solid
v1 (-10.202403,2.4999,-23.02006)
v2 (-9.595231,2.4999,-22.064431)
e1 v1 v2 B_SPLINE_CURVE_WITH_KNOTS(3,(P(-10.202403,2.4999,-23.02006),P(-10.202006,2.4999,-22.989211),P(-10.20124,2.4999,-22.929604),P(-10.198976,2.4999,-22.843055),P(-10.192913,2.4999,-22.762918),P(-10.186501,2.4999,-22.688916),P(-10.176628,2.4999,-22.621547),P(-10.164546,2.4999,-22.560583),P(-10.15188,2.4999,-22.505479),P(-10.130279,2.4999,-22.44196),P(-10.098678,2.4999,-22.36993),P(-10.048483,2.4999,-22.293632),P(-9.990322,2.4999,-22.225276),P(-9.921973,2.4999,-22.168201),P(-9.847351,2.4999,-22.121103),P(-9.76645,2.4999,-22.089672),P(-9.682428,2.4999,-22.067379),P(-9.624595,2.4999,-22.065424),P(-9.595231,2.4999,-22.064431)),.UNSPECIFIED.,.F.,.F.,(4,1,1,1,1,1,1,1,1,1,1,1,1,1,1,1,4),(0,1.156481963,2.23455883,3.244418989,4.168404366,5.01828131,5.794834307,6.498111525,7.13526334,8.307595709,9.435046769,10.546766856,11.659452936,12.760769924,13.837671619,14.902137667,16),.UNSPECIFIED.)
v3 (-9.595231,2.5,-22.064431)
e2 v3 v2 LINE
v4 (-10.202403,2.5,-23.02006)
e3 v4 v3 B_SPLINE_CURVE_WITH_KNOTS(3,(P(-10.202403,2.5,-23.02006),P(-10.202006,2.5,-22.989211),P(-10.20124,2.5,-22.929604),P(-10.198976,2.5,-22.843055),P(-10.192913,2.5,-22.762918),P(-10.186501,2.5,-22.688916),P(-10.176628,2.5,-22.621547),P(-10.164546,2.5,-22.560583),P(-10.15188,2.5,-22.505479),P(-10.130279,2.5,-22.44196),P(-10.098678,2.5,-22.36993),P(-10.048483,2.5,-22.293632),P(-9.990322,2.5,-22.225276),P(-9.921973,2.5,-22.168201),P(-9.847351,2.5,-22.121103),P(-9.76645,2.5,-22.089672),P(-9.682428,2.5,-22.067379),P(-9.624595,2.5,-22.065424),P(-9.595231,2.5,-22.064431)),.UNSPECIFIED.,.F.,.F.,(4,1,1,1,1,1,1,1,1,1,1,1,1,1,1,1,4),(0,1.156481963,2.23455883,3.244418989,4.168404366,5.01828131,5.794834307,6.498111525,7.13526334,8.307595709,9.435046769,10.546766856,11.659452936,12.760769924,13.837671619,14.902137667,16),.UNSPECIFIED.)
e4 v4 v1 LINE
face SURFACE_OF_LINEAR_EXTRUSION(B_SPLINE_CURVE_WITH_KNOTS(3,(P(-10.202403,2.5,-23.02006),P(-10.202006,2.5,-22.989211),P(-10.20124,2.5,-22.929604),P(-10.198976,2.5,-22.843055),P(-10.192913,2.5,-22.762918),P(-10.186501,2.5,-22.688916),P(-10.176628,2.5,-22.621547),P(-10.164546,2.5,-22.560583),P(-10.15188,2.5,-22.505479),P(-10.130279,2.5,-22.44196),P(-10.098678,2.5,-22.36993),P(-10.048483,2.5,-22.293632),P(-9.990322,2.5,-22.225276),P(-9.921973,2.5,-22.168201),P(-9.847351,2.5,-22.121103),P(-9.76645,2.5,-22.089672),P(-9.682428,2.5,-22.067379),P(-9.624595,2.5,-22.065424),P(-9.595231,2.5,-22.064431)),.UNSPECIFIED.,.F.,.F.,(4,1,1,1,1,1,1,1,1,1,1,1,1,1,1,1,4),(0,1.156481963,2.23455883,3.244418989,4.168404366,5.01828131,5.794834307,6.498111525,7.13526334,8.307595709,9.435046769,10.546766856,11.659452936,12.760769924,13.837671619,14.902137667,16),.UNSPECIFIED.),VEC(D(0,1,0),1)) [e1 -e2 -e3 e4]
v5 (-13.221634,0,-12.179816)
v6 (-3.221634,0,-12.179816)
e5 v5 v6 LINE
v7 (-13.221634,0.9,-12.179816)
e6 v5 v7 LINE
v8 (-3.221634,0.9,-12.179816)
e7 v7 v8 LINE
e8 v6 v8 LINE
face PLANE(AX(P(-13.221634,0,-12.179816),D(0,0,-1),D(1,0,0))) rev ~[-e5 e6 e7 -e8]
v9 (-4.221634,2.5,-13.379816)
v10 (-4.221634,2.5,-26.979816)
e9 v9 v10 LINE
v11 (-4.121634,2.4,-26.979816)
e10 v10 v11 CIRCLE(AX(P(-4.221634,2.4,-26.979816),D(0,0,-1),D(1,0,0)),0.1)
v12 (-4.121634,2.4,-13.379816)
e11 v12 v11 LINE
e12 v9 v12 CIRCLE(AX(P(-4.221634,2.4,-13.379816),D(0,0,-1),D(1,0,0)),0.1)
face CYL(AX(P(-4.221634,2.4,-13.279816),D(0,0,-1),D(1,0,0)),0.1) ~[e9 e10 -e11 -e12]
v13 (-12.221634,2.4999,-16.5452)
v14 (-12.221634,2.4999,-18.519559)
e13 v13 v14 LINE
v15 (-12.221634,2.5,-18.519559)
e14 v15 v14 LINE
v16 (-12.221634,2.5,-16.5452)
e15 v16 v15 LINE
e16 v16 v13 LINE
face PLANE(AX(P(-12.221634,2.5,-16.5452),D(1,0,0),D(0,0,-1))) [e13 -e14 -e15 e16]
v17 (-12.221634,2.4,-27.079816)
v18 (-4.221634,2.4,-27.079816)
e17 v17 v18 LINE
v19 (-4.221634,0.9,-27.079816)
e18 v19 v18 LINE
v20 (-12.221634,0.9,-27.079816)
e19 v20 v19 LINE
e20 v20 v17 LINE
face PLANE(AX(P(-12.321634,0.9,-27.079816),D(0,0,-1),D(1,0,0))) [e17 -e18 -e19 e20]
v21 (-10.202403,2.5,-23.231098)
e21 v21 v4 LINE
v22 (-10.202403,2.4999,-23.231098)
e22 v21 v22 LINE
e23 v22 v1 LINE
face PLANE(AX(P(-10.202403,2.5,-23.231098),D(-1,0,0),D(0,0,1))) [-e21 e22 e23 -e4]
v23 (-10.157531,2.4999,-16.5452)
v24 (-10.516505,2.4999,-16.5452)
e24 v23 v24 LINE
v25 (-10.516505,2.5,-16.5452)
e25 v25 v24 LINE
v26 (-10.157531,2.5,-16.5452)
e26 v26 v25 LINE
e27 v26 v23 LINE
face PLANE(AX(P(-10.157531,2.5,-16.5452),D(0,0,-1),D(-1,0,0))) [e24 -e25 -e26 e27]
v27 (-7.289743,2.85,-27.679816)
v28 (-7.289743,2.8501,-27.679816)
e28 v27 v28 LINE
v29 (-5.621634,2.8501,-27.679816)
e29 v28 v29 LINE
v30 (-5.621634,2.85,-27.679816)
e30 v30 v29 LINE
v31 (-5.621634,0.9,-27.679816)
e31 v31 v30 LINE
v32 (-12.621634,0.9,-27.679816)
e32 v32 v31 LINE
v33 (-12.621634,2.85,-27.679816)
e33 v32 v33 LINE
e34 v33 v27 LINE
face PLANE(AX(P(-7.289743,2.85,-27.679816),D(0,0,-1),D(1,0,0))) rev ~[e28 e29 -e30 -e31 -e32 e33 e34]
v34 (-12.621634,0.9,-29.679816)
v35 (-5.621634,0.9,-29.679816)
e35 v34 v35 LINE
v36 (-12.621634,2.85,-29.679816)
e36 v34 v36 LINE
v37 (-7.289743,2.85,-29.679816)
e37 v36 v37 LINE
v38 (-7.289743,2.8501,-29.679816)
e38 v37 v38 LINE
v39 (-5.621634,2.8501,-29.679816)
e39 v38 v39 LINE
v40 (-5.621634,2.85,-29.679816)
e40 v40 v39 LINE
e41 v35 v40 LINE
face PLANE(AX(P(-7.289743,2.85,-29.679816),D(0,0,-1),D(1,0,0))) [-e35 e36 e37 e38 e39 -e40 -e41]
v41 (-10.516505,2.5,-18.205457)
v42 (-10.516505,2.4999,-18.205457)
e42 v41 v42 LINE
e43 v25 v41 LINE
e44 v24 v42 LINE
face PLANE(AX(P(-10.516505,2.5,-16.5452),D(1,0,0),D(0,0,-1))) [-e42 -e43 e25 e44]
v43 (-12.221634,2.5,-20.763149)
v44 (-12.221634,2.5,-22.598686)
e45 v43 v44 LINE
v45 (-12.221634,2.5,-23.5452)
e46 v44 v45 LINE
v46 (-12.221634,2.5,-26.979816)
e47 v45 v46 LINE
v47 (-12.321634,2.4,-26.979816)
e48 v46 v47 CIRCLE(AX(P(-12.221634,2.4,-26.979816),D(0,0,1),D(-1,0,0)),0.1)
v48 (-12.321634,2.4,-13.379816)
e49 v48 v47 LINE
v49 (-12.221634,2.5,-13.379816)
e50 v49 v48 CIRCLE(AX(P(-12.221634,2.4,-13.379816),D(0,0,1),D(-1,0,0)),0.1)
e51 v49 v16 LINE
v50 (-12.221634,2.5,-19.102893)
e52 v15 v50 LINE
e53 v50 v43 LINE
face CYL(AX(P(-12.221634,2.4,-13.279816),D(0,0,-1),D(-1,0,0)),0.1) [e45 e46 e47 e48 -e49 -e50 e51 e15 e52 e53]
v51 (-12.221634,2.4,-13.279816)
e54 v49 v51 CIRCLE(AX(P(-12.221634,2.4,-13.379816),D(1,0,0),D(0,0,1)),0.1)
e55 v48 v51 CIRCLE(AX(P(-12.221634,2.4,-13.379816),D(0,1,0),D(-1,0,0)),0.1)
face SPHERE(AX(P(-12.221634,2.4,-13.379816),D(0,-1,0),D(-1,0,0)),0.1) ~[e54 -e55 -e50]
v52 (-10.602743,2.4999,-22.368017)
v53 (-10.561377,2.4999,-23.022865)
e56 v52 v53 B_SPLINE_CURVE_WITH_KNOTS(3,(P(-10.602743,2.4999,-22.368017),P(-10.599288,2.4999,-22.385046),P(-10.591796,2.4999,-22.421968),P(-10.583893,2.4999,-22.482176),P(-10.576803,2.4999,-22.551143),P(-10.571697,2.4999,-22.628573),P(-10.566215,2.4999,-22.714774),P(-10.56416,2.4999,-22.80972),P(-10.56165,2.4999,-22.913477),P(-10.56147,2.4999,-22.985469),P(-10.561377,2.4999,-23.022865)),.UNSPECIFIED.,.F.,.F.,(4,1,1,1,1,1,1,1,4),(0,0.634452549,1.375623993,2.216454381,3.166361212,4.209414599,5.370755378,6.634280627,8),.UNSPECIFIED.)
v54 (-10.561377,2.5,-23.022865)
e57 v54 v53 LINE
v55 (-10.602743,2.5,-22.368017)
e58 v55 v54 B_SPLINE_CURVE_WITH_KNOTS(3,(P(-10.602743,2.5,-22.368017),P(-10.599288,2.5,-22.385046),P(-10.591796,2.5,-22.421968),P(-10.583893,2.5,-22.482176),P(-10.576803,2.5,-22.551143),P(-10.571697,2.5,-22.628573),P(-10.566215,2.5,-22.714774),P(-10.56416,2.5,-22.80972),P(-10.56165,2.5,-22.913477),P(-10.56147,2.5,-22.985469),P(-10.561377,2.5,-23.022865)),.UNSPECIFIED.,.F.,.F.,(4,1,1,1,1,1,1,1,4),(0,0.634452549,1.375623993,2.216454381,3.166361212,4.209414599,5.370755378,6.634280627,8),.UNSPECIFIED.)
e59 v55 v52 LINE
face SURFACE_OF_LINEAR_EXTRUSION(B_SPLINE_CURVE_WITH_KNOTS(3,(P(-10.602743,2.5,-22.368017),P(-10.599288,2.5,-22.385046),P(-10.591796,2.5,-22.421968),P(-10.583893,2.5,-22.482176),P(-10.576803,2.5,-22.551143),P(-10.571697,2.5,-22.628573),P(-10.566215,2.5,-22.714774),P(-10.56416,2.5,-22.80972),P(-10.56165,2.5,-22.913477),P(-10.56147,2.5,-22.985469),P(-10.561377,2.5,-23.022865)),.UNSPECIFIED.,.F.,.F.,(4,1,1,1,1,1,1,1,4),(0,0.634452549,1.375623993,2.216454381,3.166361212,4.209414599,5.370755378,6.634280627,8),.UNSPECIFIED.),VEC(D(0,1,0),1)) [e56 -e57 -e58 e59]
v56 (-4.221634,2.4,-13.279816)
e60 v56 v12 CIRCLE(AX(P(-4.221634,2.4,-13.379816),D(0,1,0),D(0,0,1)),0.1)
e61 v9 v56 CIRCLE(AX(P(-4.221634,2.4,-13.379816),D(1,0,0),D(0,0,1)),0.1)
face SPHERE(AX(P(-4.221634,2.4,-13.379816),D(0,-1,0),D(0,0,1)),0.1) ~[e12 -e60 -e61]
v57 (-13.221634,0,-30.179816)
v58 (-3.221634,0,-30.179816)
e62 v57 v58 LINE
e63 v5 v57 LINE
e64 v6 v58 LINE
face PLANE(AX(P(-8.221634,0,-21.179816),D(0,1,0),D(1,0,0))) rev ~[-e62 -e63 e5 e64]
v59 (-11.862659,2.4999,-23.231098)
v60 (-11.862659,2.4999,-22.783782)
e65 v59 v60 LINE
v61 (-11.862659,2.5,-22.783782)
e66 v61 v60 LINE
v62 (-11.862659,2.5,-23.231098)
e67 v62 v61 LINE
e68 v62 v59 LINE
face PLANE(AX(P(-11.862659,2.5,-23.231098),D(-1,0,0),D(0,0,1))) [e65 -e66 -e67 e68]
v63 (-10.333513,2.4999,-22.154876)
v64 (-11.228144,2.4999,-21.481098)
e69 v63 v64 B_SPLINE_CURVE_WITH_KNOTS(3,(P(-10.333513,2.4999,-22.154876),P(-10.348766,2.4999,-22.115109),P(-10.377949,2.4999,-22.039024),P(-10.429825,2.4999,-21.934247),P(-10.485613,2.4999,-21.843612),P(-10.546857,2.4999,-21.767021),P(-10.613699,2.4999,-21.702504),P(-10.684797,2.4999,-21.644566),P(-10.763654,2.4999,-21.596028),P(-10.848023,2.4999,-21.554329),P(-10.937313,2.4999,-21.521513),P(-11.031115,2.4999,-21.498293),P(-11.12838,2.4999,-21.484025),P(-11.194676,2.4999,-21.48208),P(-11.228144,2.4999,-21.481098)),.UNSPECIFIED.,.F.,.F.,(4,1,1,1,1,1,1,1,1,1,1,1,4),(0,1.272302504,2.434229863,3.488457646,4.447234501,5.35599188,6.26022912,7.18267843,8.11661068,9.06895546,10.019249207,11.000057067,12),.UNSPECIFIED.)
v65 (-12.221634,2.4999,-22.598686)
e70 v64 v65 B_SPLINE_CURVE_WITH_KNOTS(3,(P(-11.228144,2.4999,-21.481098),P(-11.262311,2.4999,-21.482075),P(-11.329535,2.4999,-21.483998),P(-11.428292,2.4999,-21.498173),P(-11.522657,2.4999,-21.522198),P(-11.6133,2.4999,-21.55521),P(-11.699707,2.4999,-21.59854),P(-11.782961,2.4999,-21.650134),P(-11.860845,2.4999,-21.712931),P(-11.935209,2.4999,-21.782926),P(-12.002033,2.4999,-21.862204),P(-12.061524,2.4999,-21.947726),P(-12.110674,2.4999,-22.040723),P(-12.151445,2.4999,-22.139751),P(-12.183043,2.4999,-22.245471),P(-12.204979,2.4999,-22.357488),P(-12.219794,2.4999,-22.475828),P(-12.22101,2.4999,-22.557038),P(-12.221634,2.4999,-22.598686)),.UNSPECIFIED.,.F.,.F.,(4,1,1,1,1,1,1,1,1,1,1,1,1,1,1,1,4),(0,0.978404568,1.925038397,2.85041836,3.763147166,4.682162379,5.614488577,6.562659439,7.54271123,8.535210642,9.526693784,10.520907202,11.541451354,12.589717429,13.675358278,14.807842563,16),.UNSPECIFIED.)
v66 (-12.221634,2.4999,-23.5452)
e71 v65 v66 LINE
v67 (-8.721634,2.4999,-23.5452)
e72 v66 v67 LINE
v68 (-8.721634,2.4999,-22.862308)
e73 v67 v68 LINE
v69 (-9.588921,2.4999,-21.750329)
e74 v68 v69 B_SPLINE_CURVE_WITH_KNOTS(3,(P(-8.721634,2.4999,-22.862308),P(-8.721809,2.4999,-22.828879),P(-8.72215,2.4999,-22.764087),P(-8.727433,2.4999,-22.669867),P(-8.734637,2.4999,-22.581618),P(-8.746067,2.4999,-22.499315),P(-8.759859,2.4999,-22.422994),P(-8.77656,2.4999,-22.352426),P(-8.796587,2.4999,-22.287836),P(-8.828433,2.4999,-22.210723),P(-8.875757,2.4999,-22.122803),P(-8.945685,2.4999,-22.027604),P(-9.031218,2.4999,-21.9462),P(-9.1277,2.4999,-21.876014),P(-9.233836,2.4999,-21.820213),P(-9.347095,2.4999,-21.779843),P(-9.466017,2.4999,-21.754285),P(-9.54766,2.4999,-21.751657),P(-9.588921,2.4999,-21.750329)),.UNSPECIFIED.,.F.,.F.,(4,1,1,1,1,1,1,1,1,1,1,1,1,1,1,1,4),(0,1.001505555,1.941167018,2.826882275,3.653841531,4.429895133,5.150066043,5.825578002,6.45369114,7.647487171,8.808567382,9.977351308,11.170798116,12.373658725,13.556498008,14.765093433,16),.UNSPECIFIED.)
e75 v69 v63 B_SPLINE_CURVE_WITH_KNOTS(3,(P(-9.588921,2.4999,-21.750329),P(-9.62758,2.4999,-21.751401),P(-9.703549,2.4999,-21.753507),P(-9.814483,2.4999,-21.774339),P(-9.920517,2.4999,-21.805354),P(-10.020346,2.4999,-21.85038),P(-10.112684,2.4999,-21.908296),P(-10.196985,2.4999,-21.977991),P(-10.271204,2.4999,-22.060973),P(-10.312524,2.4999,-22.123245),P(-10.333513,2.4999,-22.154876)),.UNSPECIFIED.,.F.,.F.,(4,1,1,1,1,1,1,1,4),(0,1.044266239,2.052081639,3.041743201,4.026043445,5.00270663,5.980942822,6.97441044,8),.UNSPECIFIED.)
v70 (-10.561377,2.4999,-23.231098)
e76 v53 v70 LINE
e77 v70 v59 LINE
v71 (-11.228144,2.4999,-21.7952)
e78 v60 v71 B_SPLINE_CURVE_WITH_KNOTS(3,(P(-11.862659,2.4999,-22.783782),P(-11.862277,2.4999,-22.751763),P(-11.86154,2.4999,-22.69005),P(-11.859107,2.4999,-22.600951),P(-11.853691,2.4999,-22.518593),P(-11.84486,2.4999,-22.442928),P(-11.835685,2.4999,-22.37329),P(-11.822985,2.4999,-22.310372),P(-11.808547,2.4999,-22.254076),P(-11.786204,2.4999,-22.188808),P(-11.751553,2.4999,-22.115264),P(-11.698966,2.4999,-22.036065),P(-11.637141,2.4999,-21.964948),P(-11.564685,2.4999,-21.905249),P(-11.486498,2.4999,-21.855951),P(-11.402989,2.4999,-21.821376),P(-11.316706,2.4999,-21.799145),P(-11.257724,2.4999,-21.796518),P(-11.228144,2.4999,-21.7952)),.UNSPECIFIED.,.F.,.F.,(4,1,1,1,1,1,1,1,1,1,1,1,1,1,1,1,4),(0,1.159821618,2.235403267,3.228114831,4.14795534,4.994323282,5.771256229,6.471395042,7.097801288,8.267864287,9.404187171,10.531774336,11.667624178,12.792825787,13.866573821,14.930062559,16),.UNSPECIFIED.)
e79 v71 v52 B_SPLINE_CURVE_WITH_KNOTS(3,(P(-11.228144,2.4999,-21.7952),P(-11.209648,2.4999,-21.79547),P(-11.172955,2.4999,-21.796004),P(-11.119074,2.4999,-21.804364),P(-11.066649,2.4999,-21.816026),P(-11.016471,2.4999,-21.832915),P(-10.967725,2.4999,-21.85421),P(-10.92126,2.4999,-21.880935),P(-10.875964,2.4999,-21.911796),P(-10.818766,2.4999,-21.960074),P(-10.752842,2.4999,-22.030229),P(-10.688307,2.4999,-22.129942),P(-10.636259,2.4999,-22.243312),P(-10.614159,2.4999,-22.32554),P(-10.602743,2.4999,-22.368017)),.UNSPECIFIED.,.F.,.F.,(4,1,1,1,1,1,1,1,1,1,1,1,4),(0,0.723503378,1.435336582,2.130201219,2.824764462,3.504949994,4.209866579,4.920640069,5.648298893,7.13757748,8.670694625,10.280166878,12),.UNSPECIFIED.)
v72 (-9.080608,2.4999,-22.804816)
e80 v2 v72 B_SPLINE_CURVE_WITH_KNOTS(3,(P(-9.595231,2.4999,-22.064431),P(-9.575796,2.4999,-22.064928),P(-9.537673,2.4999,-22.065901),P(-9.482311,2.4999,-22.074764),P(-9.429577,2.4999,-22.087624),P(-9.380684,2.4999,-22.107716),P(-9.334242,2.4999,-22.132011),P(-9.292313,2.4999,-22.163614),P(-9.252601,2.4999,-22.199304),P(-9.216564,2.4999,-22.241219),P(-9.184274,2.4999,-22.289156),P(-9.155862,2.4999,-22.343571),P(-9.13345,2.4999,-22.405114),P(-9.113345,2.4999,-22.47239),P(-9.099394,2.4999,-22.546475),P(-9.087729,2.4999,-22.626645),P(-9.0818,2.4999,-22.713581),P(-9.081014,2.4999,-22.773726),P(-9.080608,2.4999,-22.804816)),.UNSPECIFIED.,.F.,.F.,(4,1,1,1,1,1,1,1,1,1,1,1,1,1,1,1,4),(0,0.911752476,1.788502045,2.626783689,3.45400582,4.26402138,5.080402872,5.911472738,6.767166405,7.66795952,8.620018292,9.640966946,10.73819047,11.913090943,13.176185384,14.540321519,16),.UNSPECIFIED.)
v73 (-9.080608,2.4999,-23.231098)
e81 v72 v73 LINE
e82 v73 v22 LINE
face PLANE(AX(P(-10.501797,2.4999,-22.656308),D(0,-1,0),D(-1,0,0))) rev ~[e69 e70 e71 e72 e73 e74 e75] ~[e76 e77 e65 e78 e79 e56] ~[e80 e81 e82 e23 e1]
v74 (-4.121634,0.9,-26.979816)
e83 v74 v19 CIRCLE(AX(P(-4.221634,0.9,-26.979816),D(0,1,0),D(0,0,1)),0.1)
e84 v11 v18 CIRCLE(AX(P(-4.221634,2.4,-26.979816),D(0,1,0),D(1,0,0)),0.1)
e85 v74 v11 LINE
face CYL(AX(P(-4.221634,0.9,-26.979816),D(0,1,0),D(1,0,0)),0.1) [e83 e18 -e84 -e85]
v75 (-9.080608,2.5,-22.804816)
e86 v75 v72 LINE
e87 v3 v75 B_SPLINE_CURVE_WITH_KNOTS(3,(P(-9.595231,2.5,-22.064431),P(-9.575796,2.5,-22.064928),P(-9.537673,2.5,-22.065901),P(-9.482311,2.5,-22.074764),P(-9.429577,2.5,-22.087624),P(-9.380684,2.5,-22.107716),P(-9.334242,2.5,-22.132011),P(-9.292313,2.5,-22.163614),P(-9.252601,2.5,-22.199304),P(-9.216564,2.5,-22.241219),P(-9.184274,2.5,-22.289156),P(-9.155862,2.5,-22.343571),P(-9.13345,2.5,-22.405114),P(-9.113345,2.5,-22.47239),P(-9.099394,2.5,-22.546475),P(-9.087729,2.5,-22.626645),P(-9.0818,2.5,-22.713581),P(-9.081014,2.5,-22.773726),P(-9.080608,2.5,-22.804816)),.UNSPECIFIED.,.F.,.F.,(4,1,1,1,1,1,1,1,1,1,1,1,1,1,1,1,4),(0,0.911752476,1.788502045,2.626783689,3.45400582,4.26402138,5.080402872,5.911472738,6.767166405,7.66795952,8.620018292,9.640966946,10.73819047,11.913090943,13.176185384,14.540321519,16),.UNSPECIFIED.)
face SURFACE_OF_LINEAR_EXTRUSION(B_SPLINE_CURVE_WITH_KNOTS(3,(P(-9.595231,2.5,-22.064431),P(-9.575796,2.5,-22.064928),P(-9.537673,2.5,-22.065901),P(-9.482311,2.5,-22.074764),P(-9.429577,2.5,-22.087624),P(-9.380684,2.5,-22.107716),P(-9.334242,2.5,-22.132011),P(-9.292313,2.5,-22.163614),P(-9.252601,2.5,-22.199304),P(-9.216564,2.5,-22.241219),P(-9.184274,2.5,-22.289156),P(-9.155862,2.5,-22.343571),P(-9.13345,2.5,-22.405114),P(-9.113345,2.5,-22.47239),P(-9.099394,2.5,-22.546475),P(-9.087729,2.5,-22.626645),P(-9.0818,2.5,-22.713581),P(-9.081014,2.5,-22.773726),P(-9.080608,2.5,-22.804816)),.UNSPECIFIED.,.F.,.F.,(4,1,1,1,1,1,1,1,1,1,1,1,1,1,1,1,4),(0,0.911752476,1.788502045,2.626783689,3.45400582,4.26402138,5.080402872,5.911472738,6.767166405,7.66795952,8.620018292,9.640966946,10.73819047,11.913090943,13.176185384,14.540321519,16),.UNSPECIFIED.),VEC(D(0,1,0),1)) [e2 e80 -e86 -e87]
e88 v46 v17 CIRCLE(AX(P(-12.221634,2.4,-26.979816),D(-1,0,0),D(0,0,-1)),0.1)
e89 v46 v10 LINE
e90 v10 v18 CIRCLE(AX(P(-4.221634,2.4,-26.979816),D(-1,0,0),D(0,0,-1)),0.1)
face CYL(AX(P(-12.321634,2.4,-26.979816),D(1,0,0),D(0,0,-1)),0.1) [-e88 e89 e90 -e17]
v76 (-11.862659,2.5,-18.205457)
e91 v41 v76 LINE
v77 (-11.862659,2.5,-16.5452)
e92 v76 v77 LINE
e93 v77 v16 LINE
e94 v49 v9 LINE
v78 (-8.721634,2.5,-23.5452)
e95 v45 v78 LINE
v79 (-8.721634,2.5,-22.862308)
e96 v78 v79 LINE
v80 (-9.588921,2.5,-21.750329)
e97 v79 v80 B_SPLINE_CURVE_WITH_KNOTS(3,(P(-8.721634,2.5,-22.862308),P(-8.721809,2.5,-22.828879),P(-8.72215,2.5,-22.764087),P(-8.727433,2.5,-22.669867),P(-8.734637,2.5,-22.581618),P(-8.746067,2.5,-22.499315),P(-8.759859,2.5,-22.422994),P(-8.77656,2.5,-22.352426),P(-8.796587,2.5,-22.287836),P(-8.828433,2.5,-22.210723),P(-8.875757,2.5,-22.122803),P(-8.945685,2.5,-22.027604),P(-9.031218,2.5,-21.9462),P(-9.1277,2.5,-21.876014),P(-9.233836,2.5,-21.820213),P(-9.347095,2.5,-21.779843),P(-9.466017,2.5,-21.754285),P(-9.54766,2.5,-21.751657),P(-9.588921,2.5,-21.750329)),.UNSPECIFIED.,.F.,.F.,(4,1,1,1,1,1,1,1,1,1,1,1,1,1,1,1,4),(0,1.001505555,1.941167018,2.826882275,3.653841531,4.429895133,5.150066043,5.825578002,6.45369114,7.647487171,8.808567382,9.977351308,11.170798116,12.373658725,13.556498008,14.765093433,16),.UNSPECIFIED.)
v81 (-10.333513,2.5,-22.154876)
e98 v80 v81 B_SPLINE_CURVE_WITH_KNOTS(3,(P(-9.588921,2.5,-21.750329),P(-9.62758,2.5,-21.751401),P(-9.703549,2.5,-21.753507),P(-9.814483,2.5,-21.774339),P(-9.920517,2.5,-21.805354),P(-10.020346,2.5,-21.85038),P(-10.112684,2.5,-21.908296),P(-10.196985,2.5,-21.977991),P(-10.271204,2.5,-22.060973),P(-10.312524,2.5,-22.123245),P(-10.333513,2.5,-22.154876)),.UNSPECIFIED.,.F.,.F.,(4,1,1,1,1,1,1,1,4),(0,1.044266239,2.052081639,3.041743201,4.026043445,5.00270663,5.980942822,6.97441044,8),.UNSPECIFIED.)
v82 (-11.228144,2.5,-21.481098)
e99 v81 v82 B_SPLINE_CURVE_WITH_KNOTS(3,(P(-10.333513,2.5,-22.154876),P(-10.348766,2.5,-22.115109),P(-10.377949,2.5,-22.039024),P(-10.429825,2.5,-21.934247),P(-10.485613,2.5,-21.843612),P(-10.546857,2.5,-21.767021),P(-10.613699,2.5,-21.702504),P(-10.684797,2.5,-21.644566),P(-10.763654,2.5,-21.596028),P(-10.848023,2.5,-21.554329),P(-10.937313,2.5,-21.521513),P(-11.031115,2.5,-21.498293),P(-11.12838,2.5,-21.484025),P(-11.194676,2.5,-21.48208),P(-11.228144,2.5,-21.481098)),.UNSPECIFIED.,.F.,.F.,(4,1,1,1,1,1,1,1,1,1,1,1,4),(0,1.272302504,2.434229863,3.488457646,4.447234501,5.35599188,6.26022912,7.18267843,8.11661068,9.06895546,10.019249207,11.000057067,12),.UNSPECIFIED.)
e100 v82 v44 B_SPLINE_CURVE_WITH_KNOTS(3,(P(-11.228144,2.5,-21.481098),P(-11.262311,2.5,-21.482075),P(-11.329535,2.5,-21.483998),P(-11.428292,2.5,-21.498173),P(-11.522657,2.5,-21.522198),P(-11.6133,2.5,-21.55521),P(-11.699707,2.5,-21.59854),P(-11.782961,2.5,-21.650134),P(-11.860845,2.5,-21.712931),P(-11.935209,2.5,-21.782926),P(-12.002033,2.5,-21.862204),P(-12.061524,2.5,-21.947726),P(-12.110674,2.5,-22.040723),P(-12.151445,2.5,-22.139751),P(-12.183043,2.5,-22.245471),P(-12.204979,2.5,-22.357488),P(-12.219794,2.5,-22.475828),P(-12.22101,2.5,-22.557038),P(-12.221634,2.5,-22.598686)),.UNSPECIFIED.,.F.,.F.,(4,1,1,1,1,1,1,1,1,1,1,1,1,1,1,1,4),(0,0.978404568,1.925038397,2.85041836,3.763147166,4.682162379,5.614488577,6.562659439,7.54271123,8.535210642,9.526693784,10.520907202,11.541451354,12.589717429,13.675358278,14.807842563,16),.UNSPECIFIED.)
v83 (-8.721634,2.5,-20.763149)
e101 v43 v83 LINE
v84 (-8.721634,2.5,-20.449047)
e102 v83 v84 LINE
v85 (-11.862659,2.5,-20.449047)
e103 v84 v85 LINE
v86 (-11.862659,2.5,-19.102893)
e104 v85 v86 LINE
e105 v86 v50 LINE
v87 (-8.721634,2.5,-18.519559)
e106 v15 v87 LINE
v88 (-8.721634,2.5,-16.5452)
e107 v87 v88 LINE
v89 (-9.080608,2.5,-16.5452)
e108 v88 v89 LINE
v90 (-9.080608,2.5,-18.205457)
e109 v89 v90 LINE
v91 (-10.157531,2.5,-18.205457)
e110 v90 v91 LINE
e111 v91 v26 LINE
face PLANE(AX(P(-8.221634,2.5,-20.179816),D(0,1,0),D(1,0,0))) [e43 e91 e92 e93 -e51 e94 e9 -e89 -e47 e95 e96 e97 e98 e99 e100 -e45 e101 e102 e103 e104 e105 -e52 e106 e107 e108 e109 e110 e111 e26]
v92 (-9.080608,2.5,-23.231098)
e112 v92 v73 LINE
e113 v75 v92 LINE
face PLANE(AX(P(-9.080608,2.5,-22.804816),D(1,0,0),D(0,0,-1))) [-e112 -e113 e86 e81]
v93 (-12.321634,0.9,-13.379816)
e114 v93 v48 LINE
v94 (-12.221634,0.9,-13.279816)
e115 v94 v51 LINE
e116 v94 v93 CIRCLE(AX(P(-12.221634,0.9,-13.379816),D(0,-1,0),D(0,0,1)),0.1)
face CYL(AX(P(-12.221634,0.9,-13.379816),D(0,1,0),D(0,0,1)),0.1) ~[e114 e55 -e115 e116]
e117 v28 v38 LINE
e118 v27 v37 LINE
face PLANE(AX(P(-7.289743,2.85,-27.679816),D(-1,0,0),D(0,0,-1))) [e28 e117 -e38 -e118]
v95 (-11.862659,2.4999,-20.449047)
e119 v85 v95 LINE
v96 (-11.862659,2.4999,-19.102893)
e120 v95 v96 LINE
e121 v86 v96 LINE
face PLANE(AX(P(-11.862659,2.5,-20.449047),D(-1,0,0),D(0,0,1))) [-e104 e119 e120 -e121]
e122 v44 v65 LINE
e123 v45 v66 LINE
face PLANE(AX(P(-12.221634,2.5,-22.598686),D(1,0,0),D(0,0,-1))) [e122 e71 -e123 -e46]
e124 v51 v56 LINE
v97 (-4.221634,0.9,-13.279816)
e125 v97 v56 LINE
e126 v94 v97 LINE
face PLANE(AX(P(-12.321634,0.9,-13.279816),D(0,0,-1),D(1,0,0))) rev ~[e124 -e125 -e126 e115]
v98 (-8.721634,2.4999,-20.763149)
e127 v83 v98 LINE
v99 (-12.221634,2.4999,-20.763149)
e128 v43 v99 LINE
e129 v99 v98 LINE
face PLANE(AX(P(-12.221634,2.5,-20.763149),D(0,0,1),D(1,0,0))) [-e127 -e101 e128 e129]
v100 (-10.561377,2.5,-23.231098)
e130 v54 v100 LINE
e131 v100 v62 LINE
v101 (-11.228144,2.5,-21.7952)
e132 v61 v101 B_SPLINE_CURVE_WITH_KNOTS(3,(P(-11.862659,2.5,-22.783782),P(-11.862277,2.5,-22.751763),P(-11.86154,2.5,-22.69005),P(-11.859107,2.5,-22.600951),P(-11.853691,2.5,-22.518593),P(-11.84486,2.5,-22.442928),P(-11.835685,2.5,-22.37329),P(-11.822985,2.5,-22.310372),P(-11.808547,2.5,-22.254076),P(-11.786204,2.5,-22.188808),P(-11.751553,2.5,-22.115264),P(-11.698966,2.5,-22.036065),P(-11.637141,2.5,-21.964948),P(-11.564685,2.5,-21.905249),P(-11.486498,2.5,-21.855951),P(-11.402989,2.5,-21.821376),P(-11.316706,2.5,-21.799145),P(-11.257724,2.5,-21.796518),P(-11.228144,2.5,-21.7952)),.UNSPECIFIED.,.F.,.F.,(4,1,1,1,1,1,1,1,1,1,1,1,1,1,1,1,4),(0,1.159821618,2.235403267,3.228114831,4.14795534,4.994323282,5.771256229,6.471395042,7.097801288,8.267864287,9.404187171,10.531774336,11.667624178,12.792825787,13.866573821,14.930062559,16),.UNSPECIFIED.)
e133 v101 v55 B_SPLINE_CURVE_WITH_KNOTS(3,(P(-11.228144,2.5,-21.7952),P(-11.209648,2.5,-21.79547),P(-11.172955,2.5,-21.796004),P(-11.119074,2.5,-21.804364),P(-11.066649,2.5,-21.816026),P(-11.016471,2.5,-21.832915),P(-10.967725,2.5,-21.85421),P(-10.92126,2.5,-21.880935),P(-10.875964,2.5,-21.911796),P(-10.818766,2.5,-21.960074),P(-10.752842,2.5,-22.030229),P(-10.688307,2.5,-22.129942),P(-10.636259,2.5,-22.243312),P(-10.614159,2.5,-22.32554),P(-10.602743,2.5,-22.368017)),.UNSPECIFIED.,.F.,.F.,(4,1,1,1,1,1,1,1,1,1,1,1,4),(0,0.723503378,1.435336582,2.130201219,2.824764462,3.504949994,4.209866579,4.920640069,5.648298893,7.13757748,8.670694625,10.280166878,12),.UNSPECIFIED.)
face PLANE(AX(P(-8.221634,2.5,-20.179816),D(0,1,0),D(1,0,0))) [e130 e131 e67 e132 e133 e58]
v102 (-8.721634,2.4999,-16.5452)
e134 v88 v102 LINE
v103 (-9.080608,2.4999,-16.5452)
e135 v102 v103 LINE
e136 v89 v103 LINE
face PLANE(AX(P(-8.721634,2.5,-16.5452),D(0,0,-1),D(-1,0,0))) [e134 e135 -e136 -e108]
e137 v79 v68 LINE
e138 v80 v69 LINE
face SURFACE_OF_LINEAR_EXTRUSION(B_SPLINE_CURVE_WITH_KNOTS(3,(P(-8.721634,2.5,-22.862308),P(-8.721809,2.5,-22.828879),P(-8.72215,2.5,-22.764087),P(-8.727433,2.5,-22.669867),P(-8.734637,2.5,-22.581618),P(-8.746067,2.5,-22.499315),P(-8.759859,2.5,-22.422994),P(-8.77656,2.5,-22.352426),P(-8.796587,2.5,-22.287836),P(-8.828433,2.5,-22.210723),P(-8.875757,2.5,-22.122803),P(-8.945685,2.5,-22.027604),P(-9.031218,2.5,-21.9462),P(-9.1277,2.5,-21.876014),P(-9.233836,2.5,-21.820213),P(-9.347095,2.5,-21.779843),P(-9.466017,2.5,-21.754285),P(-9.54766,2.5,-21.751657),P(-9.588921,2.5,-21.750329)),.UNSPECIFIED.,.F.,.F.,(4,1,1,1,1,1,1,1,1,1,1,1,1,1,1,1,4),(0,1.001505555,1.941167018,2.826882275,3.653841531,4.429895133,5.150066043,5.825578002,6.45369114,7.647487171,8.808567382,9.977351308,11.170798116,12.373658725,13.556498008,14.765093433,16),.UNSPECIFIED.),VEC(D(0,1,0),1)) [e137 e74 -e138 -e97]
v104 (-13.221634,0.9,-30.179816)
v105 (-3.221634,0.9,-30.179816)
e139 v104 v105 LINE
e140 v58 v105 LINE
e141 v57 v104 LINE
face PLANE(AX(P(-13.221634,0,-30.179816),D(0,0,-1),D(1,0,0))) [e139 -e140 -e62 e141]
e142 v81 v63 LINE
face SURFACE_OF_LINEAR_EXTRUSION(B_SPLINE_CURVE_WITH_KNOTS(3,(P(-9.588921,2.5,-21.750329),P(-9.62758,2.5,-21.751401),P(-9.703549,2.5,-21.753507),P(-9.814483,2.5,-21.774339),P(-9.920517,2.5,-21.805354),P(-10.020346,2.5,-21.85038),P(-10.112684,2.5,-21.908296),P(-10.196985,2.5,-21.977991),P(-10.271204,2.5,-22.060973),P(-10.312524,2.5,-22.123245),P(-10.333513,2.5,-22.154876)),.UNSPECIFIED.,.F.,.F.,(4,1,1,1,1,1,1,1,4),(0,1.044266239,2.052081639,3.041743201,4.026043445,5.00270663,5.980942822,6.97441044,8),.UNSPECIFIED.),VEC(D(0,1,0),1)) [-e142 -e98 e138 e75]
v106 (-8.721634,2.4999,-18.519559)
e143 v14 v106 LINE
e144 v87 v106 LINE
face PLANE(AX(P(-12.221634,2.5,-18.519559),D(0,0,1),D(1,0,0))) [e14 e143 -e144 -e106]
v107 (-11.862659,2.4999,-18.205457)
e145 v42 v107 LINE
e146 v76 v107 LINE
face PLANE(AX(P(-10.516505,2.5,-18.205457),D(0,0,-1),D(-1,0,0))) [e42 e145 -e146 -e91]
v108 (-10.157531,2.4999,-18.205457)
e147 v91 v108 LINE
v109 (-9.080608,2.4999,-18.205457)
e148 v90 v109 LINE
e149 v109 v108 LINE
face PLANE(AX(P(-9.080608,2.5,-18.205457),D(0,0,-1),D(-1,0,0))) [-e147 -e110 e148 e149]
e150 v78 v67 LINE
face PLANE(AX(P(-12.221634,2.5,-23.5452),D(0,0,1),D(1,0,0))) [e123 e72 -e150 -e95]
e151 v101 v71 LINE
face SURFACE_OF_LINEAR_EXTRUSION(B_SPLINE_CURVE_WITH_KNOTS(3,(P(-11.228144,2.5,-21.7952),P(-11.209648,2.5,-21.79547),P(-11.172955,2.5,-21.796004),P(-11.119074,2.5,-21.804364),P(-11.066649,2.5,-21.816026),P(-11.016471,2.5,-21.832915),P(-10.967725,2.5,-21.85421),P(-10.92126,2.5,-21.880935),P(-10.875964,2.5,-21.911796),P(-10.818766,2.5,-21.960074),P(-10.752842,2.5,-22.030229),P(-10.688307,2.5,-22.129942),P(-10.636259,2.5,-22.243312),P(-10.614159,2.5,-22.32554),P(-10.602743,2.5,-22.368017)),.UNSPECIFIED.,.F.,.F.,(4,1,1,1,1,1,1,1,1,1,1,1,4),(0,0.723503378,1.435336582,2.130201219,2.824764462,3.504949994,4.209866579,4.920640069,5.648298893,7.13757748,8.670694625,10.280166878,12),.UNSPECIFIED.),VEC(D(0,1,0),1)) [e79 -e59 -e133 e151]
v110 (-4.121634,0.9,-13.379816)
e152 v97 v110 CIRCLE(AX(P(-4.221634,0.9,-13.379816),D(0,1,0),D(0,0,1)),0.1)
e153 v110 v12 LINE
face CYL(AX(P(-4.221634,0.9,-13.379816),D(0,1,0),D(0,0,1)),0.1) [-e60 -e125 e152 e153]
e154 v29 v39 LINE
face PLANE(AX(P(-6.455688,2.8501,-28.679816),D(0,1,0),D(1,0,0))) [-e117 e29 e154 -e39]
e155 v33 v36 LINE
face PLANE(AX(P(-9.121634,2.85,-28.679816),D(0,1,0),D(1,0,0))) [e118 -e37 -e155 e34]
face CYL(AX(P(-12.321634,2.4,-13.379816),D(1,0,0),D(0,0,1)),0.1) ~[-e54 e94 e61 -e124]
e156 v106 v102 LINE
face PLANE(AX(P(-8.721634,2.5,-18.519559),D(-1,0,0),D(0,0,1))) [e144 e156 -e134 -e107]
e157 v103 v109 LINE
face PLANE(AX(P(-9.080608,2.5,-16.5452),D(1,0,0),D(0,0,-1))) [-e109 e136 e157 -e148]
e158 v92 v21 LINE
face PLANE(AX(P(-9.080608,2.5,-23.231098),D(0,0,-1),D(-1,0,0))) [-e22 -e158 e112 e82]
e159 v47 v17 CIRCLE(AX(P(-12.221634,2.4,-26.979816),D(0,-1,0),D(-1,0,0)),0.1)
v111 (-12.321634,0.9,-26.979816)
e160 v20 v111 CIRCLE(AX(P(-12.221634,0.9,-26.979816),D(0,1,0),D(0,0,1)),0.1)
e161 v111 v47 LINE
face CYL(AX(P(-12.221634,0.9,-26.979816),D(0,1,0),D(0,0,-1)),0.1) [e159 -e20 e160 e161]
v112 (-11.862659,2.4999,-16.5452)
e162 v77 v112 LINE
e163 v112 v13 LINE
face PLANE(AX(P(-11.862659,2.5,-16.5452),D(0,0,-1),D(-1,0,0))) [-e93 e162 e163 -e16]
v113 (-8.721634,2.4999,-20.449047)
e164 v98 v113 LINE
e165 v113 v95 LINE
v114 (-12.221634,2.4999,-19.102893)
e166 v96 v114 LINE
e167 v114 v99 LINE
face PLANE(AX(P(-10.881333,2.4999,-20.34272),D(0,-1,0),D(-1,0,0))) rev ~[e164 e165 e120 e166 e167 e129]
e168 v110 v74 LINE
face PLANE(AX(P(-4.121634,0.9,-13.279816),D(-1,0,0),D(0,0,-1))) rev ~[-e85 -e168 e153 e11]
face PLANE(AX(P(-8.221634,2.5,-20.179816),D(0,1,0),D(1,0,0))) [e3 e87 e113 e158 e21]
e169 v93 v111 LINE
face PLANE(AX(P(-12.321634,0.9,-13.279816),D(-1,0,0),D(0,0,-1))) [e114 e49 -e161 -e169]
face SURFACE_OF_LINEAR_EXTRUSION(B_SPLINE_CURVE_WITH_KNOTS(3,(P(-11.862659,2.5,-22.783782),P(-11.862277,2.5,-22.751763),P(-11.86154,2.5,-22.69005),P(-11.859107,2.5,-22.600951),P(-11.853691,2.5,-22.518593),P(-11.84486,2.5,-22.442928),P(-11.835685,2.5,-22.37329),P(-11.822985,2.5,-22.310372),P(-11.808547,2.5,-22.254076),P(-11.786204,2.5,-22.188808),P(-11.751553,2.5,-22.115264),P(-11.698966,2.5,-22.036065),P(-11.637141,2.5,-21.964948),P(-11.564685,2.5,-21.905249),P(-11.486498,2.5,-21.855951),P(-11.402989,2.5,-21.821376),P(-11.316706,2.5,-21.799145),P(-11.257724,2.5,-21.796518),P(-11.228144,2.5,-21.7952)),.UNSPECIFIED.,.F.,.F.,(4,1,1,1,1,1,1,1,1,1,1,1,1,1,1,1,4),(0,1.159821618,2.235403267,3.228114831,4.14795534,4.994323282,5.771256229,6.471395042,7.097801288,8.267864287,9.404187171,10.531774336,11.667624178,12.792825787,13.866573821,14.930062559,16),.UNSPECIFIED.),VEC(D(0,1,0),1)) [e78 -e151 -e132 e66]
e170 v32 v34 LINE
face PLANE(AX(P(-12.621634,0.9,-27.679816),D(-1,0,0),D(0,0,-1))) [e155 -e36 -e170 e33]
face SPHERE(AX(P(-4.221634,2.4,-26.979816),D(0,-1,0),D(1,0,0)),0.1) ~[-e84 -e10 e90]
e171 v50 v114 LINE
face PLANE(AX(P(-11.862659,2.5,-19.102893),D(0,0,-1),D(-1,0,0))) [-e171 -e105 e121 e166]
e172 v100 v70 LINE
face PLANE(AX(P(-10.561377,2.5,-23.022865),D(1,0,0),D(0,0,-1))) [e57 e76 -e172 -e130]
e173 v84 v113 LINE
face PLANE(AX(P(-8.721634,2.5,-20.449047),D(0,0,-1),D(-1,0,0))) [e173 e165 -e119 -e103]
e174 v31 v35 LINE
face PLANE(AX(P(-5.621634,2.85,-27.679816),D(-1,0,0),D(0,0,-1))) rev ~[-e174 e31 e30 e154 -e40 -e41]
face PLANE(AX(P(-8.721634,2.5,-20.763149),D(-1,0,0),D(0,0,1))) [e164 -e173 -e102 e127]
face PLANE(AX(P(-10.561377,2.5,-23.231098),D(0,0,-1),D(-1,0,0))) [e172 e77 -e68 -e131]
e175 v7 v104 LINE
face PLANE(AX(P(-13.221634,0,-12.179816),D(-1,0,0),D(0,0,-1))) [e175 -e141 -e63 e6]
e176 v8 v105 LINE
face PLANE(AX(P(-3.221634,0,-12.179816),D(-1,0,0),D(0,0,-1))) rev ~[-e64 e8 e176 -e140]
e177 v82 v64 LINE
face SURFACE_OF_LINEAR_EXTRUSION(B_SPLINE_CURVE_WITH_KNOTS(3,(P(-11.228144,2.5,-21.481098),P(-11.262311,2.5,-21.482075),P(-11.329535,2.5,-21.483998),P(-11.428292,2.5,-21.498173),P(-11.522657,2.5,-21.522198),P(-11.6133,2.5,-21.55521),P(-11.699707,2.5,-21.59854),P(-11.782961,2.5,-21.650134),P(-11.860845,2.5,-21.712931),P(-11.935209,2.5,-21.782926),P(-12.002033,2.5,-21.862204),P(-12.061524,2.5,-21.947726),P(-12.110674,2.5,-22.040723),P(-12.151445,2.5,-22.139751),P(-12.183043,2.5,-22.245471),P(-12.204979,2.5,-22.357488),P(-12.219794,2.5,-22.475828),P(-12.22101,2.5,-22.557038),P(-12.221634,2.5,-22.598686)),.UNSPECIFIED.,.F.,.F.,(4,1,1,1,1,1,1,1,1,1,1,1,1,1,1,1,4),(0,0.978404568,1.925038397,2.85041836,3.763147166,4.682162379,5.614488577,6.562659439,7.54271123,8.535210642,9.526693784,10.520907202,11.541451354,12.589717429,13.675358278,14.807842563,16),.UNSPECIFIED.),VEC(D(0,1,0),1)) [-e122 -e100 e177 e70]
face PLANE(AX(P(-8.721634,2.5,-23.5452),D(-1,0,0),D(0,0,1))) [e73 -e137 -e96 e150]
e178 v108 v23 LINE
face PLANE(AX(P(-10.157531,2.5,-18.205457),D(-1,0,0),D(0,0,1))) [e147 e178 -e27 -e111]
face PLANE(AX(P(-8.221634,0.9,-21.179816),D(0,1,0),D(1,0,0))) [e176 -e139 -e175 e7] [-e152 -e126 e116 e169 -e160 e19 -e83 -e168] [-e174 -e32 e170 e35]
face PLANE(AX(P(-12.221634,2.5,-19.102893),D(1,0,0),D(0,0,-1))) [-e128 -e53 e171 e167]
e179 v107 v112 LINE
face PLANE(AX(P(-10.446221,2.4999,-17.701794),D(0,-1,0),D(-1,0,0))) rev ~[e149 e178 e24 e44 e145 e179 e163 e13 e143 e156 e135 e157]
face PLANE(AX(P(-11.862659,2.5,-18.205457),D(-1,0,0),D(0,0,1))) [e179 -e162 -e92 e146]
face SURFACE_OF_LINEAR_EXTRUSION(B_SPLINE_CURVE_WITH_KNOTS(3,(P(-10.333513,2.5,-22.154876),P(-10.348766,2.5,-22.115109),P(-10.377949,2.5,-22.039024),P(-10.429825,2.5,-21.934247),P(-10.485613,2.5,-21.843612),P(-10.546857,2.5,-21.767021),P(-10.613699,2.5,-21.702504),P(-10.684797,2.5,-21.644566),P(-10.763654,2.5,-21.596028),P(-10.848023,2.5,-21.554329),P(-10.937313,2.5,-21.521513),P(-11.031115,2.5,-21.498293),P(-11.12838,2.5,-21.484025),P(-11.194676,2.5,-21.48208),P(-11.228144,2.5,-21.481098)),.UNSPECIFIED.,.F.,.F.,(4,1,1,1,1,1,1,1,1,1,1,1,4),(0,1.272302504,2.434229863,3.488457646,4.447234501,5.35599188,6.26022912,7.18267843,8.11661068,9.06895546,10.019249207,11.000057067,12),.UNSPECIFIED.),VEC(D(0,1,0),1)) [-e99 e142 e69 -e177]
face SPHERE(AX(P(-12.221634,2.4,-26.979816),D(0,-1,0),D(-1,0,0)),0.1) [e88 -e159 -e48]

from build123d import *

# Parameters (mm, degrees)
SCHIZZO1_W                   = 10
SCHIZZO1_H                   = 18
ESTRUSIONE_ESTRUSIONE1_DEPTH = 0.9
SCHIZZO2_W                   = 8.2
SCHIZZO2_H                   = 13.8
ESTRUSIONE_ESTRUSIONE2_DEPTH = 1.6
RACCORDO1_R                  = 0.1
SCHIZZO3_W                   = 7
SCHIZZO3_H                   = 2
ESTRUSIONE_ESTRUSIONE3_DEPTH = 1.95
SCHIZZO4_W                   = 1.668109591
SCHIZZO4_H                   = 2
ESTRUSIONE_ESTRUSIONE4_DEPTH = 0.0001
TAGLIO_ESTRUSIONE1_DEPTH     = 0.0001


with BuildPart() as part:
    # Schizzo1 → Estrusione-Estrusione1 (new body)
    with BuildSketch(Plane(origin=(0, 0, 0), x_dir=(1, 0, 0), z_dir=(0, 1, 0))):
        with Locations((-8.221633561, 21.179815737)):
            Rectangle(SCHIZZO1_W, SCHIZZO1_H)
    extrude(amount=ESTRUSIONE_ESTRUSIONE1_DEPTH)

    # Schizzo2 → Estrusione-Estrusione2 (add)
    with BuildSketch(Plane(origin=(0, 0.9, 0), x_dir=(1, 0, 0), z_dir=(0, 1, 0))):
        with Locations((-8.221633561, 20.179815737)):
            Rectangle(SCHIZZO2_W, SCHIZZO2_H)
    extrude(amount=ESTRUSIONE_ESTRUSIONE2_DEPTH)

    # Raccordo1
    raccordo1_edges = [part.edges().sort_by_distance(p)[0] for p in [
        (-12.321633561, 1.7, -27.079815737),
        (-12.321633561, 1.7, -13.279815737),
        (-4.121633561, 1.7, -13.279815737),
        (-4.121633561, 1.7, -27.079815737),
        (-12.321633561, 2.5, -20.179815737),
        (-8.221633561, 2.5, -13.279815737),
        (-4.121633561, 2.5, -20.179815737),
        (-8.221633561, 2.5, -27.079815737),
    ]]
    fillet(raccordo1_edges, radius=RACCORDO1_R)

    # Schizzo3 → Estrusione-Estrusione3 (add)
    with BuildSketch(Plane(origin=(0, 0.9, 0), x_dir=(1, 0, 0), z_dir=(0, 1, 0))):
        with Locations((-9.121633561, 28.679815737)):
            Rectangle(SCHIZZO3_W, SCHIZZO3_H)
    extrude(amount=ESTRUSIONE_ESTRUSIONE3_DEPTH)

    # Schizzo4 → Estrusione-Estrusione4 (add)
    with BuildSketch(Plane(origin=(0, 2.85, 0), x_dir=(1, 0, 0), z_dir=(0, 1, 0))):
        with Locations((-6.455688357, 28.679815737)):
            Rectangle(SCHIZZO4_W, SCHIZZO4_H)
    extrude(amount=ESTRUSIONE_ESTRUSIONE4_DEPTH)

    # Schizzo6 → Taglio-Estrusione1 (cut)
    # profile 1 of 3: a face of its own
    with BuildSketch(Plane(origin=(0, 2.5, 0), x_dir=(1, 0, 0), z_dir=(0, 1, 0))):
        with BuildLine():
            Line((-8.721633561, 23.545200352), (-8.721633561, 22.862307724))
            add(Edge.make_bspline(
                [(-8.721633561, 22.862307724), (-8.721809311, 22.828879246), (-8.722149959, 22.764086535), (-8.72743309, 22.669867093), (-8.73463676, 22.581618283), (-8.746066853, 22.49931451), (-8.75985863, 22.422993808), (-8.776560446, 22.352426171), (-8.79658706, 22.287835998), (-8.828433341, 22.210723262), (-8.875756509, 22.122802601), (-8.945685074, 22.027604208), (-9.031217538, 21.946199969), (-9.127700193, 21.876013652), (-9.233835965, 21.820212532), (-9.347095154, 21.779843235), (-9.466016895, 21.75428536), (-9.547660073, 21.751656925), (-9.588921221, 21.750328557)],
                knots=[0, 0, 0, 0, 1.001505555, 1.941167018, 2.826882275, 3.653841531, 4.429895133, 5.150066043, 5.825578002, 6.45369114, 7.647487171, 8.808567382, 9.977351308, 11.170798116, 12.373658725, 13.556498008, 14.765093433, 16, 16, 16, 16], degree=3))
            add(Edge.make_bspline(
                [(-9.588921221, 21.750328557), (-9.627580326, 21.751400647), (-9.703549112, 21.753507404), (-9.814482881, 21.774339057), (-9.920517432, 21.805354415), (-10.020345579, 21.850379552), (-10.112684314, 21.908295812), (-10.196984871, 21.977991345), (-10.271204297, 22.060972988), (-10.31252402, 22.12324465), (-10.333512567, 22.154875833)],
                knots=[0, 0, 0, 0, 1.044266239, 2.052081639, 3.041743201, 4.026043445, 5.00270663, 5.980942822, 6.97441044, 8, 8, 8, 8], degree=3))
            add(Edge.make_bspline(
                [(-10.333512567, 22.154875833), (-10.348765786, 22.115108746), (-10.377948973, 22.039024459), (-10.429825242, 21.934247144), (-10.485612511, 21.843612441), (-10.546857455, 21.767020589), (-10.613698528, 21.702503806), (-10.684797277, 21.644566395), (-10.763653991, 21.596027836), (-10.848023281, 21.554329121), (-10.937313, 21.52151267), (-11.031114793, 21.498292878), (-11.128379786, 21.484025445), (-11.194675763, 21.482079939), (-11.228143977, 21.481097788)],
                knots=[0, 0, 0, 0, 1.272302504, 2.434229863, 3.488457646, 4.447234501, 5.35599188, 6.26022912, 7.18267843, 8.11661068, 9.06895546, 10.019249207, 11.000057067, 12, 12, 12, 12], degree=3))
            add(Edge.make_bspline(
                [(-11.228143977, 21.481097788), (-11.262310656, 21.48207494), (-11.329534553, 21.483997516), (-11.428292454, 21.498173108), (-11.522657231, 21.522198308), (-11.613299831, 21.555210245), (-11.699707184, 21.598539779), (-11.78296147, 21.650133961), (-11.860844851, 21.712930621), (-11.93520948, 21.782926386), (-12.002032852, 21.862204121), (-12.061524209, 21.947726181), (-12.110674198, 22.040722655), (-12.151445315, 22.139751415), (-12.183042722, 22.245470508), (-12.204979107, 22.357487955), (-12.219794287, 22.475828098), (-12.221010067, 22.557038433), (-12.221633561, 22.598685929)],
                knots=[0, 0, 0, 0, 0.978404568, 1.925038397, 2.85041836, 3.763147166, 4.682162379, 5.614488577, 6.562659439, 7.54271123, 8.535210642, 9.526693784, 10.520907202, 11.541451354, 12.589717429, 13.675358278, 14.807842563, 16, 16, 16, 16], degree=3))
            Line((-12.221633561, 22.598685929), (-12.221633561, 23.545200352))
            Line((-12.221633561, 23.545200352), (-8.721633561, 23.545200352))
        make_face()
        with BuildLine():
            Line((-9.08060792, 23.231097788), (-10.202402792, 23.231097788))
            Line((-10.202402792, 23.231097788), (-10.202402792, 23.020060128))
            add(Edge.make_bspline(
                [(-10.202402792, 23.020060128), (-10.202006197, 22.989211054), (-10.201239894, 22.929604358), (-10.198975616, 22.843055067), (-10.192913178, 22.762917749), (-10.18650115, 22.688916263), (-10.176627939, 22.621546602), (-10.164545903, 22.560583229), (-10.151879752, 22.505478502), (-10.130278548, 22.441959534), (-10.098677918, 22.369929866), (-10.048483138, 22.293631553), (-9.990321552, 22.225276288), (-9.921972987, 22.168200505), (-9.847351496, 22.121103006), (-9.766450427, 22.08967218), (-9.68242813, 22.067378707), (-9.624594659, 22.065423715), (-9.595231317, 22.064431121)],
                knots=[0, 0, 0, 0, 1.156481963, 2.23455883, 3.244418989, 4.168404366, 5.01828131, 5.794834307, 6.498111525, 7.13526334, 8.307595709, 9.435046769, 10.546766856, 11.659452936, 12.760769924, 13.837671619, 14.902137667, 16, 16, 16, 16], degree=3))
            add(Edge.make_bspline(
                [(-9.595231317, 22.064431121), (-9.575796396, 22.064927559), (-9.537672677, 22.065901376), (-9.482311145, 22.074764266), (-9.429577332, 22.087624406), (-9.38068408, 22.107715868), (-9.334241704, 22.132010599), (-9.292313019, 22.163613634), (-9.252600923, 22.199304177), (-9.216563546, 22.241219245), (-9.184273914, 22.289155884), (-9.155861871, 22.343570841), (-9.133449638, 22.405113859), (-9.113344673, 22.47238952), (-9.099394018, 22.546474511), (-9.087729412, 22.626644921), (-9.08179997, 22.713580859), (-9.081014133, 22.773725786), (-9.08060792, 22.804815737)],
                knots=[0, 0, 0, 0, 0.911752476, 1.788502045, 2.626783689, 3.45400582, 4.26402138, 5.080402872, 5.911472738, 6.767166405, 7.66795952, 8.620018292, 9.640966946, 10.73819047, 11.913090943, 13.176185384, 14.540321519, 16, 16, 16, 16], degree=3))
            Line((-9.08060792, 22.804815737), (-9.08060792, 23.231097788))
        make_face(mode=Mode.SUBTRACT)
        with BuildLine():
            Line((-10.561377151, 23.231097788), (-11.862659202, 23.231097788))
            Line((-11.862659202, 23.231097788), (-11.862659202, 22.783782083))
            add(Edge.make_bspline(
                [(-11.862659202, 22.783782083), (-11.862276795, 22.751762998), (-11.861539755, 22.690050433), (-11.859107362, 22.600951316), (-11.853690782, 22.518592948), (-11.844860313, 22.442927938), (-11.835684686, 22.373290226), (-11.822985174, 22.310371666), (-11.808547365, 22.254075798), (-11.786204171, 22.188807607), (-11.751552873, 22.115264242), (-11.698965819, 22.036065441), (-11.637141399, 21.964948169), (-11.564685457, 21.905248782), (-11.486498476, 21.855951368), (-11.402989401, 21.821376216), (-11.316705845, 21.799144888), (-11.257724028, 21.796517844), (-11.228143977, 21.795200352)],
                knots=[0, 0, 0, 0, 1.159821618, 2.235403267, 3.228114831, 4.14795534, 4.994323282, 5.771256229, 6.471395042, 7.097801288, 8.267864287, 9.404187171, 10.531774336, 11.667624178, 12.792825787, 13.866573821, 14.930062559, 16, 16, 16, 16], degree=3))
            add(Edge.make_bspline(
                [(-11.228143977, 21.795200352), (-11.209648244, 21.795469643), (-11.172955116, 21.796003882), (-11.119074178, 21.804363823), (-11.066648588, 21.816026487), (-11.016471096, 21.832915026), (-10.967725208, 21.854210104), (-10.921260001, 21.880934621), (-10.875964474, 21.911796374), (-10.818766488, 21.960074353), (-10.752842263, 22.030229244), (-10.688307172, 22.129941735), (-10.636258684, 22.243312419), (-10.614159305, 22.325540142), (-10.602743336, 22.368016858)],
                knots=[0, 0, 0, 0, 0.723503378, 1.435336582, 2.130201219, 2.824764462, 3.504949994, 4.209866579, 4.920640069, 5.648298893, 7.13757748, 8.670694625, 10.280166878, 12, 12, 12, 12], degree=3))
            add(Edge.make_bspline(
                [(-10.602743336, 22.368016858), (-10.59928802, 22.385045938), (-10.591796182, 22.421968496), (-10.583892945, 22.482176382), (-10.576803483, 22.551142736), (-10.571697091, 22.628572782), (-10.566215467, 22.714774469), (-10.564159524, 22.809720106), (-10.561650137, 22.913476814), (-10.561470474, 22.985469274), (-10.561377151, 23.022864615)],
                knots=[0, 0, 0, 0, 0.634452549, 1.375623993, 2.216454381, 3.166361212, 4.209414599, 5.370755378, 6.634280627, 8, 8, 8, 8], degree=3))
            Line((-10.561377151, 23.022864615), (-10.561377151, 23.231097788))
        make_face(mode=Mode.SUBTRACT)
    # profile 2 of 3: a face of its own
    with BuildSketch(Plane(origin=(0, 2.5, 0), x_dir=(1, 0, 0), z_dir=(0, 1, 0))):
        Polygon((-8.721633561, 20.76314907), (-8.721633561, 20.449046506), (-11.862659202, 20.449046506), (-11.862659202, 19.10289266), (-12.221633561, 19.10289266), (-12.221633561, 20.76314907), align=None)
    # profile 3 of 3: a face of its own
    with BuildSketch(Plane(origin=(0, 2.5, 0), x_dir=(1, 0, 0), z_dir=(0, 1, 0))):
        Polygon((-8.721633561, 18.519559326), (-8.721633561, 16.545200352), (-9.08060792, 16.545200352), (-9.08060792, 18.205456762), (-10.157530997, 18.205456762), (-10.157530997, 16.545200352), (-10.516505356, 16.545200352), (-10.516505356, 18.205456762), (-11.862659202, 18.205456762), (-11.862659202, 16.545200352), (-12.221633561, 16.545200352), (-12.221633561, 18.519559326), align=None)
    extrude(amount=-TAGLIO_ESTRUSIONE1_DEPTH, mode=Mode.SUBTRACT)


solid = part.part
